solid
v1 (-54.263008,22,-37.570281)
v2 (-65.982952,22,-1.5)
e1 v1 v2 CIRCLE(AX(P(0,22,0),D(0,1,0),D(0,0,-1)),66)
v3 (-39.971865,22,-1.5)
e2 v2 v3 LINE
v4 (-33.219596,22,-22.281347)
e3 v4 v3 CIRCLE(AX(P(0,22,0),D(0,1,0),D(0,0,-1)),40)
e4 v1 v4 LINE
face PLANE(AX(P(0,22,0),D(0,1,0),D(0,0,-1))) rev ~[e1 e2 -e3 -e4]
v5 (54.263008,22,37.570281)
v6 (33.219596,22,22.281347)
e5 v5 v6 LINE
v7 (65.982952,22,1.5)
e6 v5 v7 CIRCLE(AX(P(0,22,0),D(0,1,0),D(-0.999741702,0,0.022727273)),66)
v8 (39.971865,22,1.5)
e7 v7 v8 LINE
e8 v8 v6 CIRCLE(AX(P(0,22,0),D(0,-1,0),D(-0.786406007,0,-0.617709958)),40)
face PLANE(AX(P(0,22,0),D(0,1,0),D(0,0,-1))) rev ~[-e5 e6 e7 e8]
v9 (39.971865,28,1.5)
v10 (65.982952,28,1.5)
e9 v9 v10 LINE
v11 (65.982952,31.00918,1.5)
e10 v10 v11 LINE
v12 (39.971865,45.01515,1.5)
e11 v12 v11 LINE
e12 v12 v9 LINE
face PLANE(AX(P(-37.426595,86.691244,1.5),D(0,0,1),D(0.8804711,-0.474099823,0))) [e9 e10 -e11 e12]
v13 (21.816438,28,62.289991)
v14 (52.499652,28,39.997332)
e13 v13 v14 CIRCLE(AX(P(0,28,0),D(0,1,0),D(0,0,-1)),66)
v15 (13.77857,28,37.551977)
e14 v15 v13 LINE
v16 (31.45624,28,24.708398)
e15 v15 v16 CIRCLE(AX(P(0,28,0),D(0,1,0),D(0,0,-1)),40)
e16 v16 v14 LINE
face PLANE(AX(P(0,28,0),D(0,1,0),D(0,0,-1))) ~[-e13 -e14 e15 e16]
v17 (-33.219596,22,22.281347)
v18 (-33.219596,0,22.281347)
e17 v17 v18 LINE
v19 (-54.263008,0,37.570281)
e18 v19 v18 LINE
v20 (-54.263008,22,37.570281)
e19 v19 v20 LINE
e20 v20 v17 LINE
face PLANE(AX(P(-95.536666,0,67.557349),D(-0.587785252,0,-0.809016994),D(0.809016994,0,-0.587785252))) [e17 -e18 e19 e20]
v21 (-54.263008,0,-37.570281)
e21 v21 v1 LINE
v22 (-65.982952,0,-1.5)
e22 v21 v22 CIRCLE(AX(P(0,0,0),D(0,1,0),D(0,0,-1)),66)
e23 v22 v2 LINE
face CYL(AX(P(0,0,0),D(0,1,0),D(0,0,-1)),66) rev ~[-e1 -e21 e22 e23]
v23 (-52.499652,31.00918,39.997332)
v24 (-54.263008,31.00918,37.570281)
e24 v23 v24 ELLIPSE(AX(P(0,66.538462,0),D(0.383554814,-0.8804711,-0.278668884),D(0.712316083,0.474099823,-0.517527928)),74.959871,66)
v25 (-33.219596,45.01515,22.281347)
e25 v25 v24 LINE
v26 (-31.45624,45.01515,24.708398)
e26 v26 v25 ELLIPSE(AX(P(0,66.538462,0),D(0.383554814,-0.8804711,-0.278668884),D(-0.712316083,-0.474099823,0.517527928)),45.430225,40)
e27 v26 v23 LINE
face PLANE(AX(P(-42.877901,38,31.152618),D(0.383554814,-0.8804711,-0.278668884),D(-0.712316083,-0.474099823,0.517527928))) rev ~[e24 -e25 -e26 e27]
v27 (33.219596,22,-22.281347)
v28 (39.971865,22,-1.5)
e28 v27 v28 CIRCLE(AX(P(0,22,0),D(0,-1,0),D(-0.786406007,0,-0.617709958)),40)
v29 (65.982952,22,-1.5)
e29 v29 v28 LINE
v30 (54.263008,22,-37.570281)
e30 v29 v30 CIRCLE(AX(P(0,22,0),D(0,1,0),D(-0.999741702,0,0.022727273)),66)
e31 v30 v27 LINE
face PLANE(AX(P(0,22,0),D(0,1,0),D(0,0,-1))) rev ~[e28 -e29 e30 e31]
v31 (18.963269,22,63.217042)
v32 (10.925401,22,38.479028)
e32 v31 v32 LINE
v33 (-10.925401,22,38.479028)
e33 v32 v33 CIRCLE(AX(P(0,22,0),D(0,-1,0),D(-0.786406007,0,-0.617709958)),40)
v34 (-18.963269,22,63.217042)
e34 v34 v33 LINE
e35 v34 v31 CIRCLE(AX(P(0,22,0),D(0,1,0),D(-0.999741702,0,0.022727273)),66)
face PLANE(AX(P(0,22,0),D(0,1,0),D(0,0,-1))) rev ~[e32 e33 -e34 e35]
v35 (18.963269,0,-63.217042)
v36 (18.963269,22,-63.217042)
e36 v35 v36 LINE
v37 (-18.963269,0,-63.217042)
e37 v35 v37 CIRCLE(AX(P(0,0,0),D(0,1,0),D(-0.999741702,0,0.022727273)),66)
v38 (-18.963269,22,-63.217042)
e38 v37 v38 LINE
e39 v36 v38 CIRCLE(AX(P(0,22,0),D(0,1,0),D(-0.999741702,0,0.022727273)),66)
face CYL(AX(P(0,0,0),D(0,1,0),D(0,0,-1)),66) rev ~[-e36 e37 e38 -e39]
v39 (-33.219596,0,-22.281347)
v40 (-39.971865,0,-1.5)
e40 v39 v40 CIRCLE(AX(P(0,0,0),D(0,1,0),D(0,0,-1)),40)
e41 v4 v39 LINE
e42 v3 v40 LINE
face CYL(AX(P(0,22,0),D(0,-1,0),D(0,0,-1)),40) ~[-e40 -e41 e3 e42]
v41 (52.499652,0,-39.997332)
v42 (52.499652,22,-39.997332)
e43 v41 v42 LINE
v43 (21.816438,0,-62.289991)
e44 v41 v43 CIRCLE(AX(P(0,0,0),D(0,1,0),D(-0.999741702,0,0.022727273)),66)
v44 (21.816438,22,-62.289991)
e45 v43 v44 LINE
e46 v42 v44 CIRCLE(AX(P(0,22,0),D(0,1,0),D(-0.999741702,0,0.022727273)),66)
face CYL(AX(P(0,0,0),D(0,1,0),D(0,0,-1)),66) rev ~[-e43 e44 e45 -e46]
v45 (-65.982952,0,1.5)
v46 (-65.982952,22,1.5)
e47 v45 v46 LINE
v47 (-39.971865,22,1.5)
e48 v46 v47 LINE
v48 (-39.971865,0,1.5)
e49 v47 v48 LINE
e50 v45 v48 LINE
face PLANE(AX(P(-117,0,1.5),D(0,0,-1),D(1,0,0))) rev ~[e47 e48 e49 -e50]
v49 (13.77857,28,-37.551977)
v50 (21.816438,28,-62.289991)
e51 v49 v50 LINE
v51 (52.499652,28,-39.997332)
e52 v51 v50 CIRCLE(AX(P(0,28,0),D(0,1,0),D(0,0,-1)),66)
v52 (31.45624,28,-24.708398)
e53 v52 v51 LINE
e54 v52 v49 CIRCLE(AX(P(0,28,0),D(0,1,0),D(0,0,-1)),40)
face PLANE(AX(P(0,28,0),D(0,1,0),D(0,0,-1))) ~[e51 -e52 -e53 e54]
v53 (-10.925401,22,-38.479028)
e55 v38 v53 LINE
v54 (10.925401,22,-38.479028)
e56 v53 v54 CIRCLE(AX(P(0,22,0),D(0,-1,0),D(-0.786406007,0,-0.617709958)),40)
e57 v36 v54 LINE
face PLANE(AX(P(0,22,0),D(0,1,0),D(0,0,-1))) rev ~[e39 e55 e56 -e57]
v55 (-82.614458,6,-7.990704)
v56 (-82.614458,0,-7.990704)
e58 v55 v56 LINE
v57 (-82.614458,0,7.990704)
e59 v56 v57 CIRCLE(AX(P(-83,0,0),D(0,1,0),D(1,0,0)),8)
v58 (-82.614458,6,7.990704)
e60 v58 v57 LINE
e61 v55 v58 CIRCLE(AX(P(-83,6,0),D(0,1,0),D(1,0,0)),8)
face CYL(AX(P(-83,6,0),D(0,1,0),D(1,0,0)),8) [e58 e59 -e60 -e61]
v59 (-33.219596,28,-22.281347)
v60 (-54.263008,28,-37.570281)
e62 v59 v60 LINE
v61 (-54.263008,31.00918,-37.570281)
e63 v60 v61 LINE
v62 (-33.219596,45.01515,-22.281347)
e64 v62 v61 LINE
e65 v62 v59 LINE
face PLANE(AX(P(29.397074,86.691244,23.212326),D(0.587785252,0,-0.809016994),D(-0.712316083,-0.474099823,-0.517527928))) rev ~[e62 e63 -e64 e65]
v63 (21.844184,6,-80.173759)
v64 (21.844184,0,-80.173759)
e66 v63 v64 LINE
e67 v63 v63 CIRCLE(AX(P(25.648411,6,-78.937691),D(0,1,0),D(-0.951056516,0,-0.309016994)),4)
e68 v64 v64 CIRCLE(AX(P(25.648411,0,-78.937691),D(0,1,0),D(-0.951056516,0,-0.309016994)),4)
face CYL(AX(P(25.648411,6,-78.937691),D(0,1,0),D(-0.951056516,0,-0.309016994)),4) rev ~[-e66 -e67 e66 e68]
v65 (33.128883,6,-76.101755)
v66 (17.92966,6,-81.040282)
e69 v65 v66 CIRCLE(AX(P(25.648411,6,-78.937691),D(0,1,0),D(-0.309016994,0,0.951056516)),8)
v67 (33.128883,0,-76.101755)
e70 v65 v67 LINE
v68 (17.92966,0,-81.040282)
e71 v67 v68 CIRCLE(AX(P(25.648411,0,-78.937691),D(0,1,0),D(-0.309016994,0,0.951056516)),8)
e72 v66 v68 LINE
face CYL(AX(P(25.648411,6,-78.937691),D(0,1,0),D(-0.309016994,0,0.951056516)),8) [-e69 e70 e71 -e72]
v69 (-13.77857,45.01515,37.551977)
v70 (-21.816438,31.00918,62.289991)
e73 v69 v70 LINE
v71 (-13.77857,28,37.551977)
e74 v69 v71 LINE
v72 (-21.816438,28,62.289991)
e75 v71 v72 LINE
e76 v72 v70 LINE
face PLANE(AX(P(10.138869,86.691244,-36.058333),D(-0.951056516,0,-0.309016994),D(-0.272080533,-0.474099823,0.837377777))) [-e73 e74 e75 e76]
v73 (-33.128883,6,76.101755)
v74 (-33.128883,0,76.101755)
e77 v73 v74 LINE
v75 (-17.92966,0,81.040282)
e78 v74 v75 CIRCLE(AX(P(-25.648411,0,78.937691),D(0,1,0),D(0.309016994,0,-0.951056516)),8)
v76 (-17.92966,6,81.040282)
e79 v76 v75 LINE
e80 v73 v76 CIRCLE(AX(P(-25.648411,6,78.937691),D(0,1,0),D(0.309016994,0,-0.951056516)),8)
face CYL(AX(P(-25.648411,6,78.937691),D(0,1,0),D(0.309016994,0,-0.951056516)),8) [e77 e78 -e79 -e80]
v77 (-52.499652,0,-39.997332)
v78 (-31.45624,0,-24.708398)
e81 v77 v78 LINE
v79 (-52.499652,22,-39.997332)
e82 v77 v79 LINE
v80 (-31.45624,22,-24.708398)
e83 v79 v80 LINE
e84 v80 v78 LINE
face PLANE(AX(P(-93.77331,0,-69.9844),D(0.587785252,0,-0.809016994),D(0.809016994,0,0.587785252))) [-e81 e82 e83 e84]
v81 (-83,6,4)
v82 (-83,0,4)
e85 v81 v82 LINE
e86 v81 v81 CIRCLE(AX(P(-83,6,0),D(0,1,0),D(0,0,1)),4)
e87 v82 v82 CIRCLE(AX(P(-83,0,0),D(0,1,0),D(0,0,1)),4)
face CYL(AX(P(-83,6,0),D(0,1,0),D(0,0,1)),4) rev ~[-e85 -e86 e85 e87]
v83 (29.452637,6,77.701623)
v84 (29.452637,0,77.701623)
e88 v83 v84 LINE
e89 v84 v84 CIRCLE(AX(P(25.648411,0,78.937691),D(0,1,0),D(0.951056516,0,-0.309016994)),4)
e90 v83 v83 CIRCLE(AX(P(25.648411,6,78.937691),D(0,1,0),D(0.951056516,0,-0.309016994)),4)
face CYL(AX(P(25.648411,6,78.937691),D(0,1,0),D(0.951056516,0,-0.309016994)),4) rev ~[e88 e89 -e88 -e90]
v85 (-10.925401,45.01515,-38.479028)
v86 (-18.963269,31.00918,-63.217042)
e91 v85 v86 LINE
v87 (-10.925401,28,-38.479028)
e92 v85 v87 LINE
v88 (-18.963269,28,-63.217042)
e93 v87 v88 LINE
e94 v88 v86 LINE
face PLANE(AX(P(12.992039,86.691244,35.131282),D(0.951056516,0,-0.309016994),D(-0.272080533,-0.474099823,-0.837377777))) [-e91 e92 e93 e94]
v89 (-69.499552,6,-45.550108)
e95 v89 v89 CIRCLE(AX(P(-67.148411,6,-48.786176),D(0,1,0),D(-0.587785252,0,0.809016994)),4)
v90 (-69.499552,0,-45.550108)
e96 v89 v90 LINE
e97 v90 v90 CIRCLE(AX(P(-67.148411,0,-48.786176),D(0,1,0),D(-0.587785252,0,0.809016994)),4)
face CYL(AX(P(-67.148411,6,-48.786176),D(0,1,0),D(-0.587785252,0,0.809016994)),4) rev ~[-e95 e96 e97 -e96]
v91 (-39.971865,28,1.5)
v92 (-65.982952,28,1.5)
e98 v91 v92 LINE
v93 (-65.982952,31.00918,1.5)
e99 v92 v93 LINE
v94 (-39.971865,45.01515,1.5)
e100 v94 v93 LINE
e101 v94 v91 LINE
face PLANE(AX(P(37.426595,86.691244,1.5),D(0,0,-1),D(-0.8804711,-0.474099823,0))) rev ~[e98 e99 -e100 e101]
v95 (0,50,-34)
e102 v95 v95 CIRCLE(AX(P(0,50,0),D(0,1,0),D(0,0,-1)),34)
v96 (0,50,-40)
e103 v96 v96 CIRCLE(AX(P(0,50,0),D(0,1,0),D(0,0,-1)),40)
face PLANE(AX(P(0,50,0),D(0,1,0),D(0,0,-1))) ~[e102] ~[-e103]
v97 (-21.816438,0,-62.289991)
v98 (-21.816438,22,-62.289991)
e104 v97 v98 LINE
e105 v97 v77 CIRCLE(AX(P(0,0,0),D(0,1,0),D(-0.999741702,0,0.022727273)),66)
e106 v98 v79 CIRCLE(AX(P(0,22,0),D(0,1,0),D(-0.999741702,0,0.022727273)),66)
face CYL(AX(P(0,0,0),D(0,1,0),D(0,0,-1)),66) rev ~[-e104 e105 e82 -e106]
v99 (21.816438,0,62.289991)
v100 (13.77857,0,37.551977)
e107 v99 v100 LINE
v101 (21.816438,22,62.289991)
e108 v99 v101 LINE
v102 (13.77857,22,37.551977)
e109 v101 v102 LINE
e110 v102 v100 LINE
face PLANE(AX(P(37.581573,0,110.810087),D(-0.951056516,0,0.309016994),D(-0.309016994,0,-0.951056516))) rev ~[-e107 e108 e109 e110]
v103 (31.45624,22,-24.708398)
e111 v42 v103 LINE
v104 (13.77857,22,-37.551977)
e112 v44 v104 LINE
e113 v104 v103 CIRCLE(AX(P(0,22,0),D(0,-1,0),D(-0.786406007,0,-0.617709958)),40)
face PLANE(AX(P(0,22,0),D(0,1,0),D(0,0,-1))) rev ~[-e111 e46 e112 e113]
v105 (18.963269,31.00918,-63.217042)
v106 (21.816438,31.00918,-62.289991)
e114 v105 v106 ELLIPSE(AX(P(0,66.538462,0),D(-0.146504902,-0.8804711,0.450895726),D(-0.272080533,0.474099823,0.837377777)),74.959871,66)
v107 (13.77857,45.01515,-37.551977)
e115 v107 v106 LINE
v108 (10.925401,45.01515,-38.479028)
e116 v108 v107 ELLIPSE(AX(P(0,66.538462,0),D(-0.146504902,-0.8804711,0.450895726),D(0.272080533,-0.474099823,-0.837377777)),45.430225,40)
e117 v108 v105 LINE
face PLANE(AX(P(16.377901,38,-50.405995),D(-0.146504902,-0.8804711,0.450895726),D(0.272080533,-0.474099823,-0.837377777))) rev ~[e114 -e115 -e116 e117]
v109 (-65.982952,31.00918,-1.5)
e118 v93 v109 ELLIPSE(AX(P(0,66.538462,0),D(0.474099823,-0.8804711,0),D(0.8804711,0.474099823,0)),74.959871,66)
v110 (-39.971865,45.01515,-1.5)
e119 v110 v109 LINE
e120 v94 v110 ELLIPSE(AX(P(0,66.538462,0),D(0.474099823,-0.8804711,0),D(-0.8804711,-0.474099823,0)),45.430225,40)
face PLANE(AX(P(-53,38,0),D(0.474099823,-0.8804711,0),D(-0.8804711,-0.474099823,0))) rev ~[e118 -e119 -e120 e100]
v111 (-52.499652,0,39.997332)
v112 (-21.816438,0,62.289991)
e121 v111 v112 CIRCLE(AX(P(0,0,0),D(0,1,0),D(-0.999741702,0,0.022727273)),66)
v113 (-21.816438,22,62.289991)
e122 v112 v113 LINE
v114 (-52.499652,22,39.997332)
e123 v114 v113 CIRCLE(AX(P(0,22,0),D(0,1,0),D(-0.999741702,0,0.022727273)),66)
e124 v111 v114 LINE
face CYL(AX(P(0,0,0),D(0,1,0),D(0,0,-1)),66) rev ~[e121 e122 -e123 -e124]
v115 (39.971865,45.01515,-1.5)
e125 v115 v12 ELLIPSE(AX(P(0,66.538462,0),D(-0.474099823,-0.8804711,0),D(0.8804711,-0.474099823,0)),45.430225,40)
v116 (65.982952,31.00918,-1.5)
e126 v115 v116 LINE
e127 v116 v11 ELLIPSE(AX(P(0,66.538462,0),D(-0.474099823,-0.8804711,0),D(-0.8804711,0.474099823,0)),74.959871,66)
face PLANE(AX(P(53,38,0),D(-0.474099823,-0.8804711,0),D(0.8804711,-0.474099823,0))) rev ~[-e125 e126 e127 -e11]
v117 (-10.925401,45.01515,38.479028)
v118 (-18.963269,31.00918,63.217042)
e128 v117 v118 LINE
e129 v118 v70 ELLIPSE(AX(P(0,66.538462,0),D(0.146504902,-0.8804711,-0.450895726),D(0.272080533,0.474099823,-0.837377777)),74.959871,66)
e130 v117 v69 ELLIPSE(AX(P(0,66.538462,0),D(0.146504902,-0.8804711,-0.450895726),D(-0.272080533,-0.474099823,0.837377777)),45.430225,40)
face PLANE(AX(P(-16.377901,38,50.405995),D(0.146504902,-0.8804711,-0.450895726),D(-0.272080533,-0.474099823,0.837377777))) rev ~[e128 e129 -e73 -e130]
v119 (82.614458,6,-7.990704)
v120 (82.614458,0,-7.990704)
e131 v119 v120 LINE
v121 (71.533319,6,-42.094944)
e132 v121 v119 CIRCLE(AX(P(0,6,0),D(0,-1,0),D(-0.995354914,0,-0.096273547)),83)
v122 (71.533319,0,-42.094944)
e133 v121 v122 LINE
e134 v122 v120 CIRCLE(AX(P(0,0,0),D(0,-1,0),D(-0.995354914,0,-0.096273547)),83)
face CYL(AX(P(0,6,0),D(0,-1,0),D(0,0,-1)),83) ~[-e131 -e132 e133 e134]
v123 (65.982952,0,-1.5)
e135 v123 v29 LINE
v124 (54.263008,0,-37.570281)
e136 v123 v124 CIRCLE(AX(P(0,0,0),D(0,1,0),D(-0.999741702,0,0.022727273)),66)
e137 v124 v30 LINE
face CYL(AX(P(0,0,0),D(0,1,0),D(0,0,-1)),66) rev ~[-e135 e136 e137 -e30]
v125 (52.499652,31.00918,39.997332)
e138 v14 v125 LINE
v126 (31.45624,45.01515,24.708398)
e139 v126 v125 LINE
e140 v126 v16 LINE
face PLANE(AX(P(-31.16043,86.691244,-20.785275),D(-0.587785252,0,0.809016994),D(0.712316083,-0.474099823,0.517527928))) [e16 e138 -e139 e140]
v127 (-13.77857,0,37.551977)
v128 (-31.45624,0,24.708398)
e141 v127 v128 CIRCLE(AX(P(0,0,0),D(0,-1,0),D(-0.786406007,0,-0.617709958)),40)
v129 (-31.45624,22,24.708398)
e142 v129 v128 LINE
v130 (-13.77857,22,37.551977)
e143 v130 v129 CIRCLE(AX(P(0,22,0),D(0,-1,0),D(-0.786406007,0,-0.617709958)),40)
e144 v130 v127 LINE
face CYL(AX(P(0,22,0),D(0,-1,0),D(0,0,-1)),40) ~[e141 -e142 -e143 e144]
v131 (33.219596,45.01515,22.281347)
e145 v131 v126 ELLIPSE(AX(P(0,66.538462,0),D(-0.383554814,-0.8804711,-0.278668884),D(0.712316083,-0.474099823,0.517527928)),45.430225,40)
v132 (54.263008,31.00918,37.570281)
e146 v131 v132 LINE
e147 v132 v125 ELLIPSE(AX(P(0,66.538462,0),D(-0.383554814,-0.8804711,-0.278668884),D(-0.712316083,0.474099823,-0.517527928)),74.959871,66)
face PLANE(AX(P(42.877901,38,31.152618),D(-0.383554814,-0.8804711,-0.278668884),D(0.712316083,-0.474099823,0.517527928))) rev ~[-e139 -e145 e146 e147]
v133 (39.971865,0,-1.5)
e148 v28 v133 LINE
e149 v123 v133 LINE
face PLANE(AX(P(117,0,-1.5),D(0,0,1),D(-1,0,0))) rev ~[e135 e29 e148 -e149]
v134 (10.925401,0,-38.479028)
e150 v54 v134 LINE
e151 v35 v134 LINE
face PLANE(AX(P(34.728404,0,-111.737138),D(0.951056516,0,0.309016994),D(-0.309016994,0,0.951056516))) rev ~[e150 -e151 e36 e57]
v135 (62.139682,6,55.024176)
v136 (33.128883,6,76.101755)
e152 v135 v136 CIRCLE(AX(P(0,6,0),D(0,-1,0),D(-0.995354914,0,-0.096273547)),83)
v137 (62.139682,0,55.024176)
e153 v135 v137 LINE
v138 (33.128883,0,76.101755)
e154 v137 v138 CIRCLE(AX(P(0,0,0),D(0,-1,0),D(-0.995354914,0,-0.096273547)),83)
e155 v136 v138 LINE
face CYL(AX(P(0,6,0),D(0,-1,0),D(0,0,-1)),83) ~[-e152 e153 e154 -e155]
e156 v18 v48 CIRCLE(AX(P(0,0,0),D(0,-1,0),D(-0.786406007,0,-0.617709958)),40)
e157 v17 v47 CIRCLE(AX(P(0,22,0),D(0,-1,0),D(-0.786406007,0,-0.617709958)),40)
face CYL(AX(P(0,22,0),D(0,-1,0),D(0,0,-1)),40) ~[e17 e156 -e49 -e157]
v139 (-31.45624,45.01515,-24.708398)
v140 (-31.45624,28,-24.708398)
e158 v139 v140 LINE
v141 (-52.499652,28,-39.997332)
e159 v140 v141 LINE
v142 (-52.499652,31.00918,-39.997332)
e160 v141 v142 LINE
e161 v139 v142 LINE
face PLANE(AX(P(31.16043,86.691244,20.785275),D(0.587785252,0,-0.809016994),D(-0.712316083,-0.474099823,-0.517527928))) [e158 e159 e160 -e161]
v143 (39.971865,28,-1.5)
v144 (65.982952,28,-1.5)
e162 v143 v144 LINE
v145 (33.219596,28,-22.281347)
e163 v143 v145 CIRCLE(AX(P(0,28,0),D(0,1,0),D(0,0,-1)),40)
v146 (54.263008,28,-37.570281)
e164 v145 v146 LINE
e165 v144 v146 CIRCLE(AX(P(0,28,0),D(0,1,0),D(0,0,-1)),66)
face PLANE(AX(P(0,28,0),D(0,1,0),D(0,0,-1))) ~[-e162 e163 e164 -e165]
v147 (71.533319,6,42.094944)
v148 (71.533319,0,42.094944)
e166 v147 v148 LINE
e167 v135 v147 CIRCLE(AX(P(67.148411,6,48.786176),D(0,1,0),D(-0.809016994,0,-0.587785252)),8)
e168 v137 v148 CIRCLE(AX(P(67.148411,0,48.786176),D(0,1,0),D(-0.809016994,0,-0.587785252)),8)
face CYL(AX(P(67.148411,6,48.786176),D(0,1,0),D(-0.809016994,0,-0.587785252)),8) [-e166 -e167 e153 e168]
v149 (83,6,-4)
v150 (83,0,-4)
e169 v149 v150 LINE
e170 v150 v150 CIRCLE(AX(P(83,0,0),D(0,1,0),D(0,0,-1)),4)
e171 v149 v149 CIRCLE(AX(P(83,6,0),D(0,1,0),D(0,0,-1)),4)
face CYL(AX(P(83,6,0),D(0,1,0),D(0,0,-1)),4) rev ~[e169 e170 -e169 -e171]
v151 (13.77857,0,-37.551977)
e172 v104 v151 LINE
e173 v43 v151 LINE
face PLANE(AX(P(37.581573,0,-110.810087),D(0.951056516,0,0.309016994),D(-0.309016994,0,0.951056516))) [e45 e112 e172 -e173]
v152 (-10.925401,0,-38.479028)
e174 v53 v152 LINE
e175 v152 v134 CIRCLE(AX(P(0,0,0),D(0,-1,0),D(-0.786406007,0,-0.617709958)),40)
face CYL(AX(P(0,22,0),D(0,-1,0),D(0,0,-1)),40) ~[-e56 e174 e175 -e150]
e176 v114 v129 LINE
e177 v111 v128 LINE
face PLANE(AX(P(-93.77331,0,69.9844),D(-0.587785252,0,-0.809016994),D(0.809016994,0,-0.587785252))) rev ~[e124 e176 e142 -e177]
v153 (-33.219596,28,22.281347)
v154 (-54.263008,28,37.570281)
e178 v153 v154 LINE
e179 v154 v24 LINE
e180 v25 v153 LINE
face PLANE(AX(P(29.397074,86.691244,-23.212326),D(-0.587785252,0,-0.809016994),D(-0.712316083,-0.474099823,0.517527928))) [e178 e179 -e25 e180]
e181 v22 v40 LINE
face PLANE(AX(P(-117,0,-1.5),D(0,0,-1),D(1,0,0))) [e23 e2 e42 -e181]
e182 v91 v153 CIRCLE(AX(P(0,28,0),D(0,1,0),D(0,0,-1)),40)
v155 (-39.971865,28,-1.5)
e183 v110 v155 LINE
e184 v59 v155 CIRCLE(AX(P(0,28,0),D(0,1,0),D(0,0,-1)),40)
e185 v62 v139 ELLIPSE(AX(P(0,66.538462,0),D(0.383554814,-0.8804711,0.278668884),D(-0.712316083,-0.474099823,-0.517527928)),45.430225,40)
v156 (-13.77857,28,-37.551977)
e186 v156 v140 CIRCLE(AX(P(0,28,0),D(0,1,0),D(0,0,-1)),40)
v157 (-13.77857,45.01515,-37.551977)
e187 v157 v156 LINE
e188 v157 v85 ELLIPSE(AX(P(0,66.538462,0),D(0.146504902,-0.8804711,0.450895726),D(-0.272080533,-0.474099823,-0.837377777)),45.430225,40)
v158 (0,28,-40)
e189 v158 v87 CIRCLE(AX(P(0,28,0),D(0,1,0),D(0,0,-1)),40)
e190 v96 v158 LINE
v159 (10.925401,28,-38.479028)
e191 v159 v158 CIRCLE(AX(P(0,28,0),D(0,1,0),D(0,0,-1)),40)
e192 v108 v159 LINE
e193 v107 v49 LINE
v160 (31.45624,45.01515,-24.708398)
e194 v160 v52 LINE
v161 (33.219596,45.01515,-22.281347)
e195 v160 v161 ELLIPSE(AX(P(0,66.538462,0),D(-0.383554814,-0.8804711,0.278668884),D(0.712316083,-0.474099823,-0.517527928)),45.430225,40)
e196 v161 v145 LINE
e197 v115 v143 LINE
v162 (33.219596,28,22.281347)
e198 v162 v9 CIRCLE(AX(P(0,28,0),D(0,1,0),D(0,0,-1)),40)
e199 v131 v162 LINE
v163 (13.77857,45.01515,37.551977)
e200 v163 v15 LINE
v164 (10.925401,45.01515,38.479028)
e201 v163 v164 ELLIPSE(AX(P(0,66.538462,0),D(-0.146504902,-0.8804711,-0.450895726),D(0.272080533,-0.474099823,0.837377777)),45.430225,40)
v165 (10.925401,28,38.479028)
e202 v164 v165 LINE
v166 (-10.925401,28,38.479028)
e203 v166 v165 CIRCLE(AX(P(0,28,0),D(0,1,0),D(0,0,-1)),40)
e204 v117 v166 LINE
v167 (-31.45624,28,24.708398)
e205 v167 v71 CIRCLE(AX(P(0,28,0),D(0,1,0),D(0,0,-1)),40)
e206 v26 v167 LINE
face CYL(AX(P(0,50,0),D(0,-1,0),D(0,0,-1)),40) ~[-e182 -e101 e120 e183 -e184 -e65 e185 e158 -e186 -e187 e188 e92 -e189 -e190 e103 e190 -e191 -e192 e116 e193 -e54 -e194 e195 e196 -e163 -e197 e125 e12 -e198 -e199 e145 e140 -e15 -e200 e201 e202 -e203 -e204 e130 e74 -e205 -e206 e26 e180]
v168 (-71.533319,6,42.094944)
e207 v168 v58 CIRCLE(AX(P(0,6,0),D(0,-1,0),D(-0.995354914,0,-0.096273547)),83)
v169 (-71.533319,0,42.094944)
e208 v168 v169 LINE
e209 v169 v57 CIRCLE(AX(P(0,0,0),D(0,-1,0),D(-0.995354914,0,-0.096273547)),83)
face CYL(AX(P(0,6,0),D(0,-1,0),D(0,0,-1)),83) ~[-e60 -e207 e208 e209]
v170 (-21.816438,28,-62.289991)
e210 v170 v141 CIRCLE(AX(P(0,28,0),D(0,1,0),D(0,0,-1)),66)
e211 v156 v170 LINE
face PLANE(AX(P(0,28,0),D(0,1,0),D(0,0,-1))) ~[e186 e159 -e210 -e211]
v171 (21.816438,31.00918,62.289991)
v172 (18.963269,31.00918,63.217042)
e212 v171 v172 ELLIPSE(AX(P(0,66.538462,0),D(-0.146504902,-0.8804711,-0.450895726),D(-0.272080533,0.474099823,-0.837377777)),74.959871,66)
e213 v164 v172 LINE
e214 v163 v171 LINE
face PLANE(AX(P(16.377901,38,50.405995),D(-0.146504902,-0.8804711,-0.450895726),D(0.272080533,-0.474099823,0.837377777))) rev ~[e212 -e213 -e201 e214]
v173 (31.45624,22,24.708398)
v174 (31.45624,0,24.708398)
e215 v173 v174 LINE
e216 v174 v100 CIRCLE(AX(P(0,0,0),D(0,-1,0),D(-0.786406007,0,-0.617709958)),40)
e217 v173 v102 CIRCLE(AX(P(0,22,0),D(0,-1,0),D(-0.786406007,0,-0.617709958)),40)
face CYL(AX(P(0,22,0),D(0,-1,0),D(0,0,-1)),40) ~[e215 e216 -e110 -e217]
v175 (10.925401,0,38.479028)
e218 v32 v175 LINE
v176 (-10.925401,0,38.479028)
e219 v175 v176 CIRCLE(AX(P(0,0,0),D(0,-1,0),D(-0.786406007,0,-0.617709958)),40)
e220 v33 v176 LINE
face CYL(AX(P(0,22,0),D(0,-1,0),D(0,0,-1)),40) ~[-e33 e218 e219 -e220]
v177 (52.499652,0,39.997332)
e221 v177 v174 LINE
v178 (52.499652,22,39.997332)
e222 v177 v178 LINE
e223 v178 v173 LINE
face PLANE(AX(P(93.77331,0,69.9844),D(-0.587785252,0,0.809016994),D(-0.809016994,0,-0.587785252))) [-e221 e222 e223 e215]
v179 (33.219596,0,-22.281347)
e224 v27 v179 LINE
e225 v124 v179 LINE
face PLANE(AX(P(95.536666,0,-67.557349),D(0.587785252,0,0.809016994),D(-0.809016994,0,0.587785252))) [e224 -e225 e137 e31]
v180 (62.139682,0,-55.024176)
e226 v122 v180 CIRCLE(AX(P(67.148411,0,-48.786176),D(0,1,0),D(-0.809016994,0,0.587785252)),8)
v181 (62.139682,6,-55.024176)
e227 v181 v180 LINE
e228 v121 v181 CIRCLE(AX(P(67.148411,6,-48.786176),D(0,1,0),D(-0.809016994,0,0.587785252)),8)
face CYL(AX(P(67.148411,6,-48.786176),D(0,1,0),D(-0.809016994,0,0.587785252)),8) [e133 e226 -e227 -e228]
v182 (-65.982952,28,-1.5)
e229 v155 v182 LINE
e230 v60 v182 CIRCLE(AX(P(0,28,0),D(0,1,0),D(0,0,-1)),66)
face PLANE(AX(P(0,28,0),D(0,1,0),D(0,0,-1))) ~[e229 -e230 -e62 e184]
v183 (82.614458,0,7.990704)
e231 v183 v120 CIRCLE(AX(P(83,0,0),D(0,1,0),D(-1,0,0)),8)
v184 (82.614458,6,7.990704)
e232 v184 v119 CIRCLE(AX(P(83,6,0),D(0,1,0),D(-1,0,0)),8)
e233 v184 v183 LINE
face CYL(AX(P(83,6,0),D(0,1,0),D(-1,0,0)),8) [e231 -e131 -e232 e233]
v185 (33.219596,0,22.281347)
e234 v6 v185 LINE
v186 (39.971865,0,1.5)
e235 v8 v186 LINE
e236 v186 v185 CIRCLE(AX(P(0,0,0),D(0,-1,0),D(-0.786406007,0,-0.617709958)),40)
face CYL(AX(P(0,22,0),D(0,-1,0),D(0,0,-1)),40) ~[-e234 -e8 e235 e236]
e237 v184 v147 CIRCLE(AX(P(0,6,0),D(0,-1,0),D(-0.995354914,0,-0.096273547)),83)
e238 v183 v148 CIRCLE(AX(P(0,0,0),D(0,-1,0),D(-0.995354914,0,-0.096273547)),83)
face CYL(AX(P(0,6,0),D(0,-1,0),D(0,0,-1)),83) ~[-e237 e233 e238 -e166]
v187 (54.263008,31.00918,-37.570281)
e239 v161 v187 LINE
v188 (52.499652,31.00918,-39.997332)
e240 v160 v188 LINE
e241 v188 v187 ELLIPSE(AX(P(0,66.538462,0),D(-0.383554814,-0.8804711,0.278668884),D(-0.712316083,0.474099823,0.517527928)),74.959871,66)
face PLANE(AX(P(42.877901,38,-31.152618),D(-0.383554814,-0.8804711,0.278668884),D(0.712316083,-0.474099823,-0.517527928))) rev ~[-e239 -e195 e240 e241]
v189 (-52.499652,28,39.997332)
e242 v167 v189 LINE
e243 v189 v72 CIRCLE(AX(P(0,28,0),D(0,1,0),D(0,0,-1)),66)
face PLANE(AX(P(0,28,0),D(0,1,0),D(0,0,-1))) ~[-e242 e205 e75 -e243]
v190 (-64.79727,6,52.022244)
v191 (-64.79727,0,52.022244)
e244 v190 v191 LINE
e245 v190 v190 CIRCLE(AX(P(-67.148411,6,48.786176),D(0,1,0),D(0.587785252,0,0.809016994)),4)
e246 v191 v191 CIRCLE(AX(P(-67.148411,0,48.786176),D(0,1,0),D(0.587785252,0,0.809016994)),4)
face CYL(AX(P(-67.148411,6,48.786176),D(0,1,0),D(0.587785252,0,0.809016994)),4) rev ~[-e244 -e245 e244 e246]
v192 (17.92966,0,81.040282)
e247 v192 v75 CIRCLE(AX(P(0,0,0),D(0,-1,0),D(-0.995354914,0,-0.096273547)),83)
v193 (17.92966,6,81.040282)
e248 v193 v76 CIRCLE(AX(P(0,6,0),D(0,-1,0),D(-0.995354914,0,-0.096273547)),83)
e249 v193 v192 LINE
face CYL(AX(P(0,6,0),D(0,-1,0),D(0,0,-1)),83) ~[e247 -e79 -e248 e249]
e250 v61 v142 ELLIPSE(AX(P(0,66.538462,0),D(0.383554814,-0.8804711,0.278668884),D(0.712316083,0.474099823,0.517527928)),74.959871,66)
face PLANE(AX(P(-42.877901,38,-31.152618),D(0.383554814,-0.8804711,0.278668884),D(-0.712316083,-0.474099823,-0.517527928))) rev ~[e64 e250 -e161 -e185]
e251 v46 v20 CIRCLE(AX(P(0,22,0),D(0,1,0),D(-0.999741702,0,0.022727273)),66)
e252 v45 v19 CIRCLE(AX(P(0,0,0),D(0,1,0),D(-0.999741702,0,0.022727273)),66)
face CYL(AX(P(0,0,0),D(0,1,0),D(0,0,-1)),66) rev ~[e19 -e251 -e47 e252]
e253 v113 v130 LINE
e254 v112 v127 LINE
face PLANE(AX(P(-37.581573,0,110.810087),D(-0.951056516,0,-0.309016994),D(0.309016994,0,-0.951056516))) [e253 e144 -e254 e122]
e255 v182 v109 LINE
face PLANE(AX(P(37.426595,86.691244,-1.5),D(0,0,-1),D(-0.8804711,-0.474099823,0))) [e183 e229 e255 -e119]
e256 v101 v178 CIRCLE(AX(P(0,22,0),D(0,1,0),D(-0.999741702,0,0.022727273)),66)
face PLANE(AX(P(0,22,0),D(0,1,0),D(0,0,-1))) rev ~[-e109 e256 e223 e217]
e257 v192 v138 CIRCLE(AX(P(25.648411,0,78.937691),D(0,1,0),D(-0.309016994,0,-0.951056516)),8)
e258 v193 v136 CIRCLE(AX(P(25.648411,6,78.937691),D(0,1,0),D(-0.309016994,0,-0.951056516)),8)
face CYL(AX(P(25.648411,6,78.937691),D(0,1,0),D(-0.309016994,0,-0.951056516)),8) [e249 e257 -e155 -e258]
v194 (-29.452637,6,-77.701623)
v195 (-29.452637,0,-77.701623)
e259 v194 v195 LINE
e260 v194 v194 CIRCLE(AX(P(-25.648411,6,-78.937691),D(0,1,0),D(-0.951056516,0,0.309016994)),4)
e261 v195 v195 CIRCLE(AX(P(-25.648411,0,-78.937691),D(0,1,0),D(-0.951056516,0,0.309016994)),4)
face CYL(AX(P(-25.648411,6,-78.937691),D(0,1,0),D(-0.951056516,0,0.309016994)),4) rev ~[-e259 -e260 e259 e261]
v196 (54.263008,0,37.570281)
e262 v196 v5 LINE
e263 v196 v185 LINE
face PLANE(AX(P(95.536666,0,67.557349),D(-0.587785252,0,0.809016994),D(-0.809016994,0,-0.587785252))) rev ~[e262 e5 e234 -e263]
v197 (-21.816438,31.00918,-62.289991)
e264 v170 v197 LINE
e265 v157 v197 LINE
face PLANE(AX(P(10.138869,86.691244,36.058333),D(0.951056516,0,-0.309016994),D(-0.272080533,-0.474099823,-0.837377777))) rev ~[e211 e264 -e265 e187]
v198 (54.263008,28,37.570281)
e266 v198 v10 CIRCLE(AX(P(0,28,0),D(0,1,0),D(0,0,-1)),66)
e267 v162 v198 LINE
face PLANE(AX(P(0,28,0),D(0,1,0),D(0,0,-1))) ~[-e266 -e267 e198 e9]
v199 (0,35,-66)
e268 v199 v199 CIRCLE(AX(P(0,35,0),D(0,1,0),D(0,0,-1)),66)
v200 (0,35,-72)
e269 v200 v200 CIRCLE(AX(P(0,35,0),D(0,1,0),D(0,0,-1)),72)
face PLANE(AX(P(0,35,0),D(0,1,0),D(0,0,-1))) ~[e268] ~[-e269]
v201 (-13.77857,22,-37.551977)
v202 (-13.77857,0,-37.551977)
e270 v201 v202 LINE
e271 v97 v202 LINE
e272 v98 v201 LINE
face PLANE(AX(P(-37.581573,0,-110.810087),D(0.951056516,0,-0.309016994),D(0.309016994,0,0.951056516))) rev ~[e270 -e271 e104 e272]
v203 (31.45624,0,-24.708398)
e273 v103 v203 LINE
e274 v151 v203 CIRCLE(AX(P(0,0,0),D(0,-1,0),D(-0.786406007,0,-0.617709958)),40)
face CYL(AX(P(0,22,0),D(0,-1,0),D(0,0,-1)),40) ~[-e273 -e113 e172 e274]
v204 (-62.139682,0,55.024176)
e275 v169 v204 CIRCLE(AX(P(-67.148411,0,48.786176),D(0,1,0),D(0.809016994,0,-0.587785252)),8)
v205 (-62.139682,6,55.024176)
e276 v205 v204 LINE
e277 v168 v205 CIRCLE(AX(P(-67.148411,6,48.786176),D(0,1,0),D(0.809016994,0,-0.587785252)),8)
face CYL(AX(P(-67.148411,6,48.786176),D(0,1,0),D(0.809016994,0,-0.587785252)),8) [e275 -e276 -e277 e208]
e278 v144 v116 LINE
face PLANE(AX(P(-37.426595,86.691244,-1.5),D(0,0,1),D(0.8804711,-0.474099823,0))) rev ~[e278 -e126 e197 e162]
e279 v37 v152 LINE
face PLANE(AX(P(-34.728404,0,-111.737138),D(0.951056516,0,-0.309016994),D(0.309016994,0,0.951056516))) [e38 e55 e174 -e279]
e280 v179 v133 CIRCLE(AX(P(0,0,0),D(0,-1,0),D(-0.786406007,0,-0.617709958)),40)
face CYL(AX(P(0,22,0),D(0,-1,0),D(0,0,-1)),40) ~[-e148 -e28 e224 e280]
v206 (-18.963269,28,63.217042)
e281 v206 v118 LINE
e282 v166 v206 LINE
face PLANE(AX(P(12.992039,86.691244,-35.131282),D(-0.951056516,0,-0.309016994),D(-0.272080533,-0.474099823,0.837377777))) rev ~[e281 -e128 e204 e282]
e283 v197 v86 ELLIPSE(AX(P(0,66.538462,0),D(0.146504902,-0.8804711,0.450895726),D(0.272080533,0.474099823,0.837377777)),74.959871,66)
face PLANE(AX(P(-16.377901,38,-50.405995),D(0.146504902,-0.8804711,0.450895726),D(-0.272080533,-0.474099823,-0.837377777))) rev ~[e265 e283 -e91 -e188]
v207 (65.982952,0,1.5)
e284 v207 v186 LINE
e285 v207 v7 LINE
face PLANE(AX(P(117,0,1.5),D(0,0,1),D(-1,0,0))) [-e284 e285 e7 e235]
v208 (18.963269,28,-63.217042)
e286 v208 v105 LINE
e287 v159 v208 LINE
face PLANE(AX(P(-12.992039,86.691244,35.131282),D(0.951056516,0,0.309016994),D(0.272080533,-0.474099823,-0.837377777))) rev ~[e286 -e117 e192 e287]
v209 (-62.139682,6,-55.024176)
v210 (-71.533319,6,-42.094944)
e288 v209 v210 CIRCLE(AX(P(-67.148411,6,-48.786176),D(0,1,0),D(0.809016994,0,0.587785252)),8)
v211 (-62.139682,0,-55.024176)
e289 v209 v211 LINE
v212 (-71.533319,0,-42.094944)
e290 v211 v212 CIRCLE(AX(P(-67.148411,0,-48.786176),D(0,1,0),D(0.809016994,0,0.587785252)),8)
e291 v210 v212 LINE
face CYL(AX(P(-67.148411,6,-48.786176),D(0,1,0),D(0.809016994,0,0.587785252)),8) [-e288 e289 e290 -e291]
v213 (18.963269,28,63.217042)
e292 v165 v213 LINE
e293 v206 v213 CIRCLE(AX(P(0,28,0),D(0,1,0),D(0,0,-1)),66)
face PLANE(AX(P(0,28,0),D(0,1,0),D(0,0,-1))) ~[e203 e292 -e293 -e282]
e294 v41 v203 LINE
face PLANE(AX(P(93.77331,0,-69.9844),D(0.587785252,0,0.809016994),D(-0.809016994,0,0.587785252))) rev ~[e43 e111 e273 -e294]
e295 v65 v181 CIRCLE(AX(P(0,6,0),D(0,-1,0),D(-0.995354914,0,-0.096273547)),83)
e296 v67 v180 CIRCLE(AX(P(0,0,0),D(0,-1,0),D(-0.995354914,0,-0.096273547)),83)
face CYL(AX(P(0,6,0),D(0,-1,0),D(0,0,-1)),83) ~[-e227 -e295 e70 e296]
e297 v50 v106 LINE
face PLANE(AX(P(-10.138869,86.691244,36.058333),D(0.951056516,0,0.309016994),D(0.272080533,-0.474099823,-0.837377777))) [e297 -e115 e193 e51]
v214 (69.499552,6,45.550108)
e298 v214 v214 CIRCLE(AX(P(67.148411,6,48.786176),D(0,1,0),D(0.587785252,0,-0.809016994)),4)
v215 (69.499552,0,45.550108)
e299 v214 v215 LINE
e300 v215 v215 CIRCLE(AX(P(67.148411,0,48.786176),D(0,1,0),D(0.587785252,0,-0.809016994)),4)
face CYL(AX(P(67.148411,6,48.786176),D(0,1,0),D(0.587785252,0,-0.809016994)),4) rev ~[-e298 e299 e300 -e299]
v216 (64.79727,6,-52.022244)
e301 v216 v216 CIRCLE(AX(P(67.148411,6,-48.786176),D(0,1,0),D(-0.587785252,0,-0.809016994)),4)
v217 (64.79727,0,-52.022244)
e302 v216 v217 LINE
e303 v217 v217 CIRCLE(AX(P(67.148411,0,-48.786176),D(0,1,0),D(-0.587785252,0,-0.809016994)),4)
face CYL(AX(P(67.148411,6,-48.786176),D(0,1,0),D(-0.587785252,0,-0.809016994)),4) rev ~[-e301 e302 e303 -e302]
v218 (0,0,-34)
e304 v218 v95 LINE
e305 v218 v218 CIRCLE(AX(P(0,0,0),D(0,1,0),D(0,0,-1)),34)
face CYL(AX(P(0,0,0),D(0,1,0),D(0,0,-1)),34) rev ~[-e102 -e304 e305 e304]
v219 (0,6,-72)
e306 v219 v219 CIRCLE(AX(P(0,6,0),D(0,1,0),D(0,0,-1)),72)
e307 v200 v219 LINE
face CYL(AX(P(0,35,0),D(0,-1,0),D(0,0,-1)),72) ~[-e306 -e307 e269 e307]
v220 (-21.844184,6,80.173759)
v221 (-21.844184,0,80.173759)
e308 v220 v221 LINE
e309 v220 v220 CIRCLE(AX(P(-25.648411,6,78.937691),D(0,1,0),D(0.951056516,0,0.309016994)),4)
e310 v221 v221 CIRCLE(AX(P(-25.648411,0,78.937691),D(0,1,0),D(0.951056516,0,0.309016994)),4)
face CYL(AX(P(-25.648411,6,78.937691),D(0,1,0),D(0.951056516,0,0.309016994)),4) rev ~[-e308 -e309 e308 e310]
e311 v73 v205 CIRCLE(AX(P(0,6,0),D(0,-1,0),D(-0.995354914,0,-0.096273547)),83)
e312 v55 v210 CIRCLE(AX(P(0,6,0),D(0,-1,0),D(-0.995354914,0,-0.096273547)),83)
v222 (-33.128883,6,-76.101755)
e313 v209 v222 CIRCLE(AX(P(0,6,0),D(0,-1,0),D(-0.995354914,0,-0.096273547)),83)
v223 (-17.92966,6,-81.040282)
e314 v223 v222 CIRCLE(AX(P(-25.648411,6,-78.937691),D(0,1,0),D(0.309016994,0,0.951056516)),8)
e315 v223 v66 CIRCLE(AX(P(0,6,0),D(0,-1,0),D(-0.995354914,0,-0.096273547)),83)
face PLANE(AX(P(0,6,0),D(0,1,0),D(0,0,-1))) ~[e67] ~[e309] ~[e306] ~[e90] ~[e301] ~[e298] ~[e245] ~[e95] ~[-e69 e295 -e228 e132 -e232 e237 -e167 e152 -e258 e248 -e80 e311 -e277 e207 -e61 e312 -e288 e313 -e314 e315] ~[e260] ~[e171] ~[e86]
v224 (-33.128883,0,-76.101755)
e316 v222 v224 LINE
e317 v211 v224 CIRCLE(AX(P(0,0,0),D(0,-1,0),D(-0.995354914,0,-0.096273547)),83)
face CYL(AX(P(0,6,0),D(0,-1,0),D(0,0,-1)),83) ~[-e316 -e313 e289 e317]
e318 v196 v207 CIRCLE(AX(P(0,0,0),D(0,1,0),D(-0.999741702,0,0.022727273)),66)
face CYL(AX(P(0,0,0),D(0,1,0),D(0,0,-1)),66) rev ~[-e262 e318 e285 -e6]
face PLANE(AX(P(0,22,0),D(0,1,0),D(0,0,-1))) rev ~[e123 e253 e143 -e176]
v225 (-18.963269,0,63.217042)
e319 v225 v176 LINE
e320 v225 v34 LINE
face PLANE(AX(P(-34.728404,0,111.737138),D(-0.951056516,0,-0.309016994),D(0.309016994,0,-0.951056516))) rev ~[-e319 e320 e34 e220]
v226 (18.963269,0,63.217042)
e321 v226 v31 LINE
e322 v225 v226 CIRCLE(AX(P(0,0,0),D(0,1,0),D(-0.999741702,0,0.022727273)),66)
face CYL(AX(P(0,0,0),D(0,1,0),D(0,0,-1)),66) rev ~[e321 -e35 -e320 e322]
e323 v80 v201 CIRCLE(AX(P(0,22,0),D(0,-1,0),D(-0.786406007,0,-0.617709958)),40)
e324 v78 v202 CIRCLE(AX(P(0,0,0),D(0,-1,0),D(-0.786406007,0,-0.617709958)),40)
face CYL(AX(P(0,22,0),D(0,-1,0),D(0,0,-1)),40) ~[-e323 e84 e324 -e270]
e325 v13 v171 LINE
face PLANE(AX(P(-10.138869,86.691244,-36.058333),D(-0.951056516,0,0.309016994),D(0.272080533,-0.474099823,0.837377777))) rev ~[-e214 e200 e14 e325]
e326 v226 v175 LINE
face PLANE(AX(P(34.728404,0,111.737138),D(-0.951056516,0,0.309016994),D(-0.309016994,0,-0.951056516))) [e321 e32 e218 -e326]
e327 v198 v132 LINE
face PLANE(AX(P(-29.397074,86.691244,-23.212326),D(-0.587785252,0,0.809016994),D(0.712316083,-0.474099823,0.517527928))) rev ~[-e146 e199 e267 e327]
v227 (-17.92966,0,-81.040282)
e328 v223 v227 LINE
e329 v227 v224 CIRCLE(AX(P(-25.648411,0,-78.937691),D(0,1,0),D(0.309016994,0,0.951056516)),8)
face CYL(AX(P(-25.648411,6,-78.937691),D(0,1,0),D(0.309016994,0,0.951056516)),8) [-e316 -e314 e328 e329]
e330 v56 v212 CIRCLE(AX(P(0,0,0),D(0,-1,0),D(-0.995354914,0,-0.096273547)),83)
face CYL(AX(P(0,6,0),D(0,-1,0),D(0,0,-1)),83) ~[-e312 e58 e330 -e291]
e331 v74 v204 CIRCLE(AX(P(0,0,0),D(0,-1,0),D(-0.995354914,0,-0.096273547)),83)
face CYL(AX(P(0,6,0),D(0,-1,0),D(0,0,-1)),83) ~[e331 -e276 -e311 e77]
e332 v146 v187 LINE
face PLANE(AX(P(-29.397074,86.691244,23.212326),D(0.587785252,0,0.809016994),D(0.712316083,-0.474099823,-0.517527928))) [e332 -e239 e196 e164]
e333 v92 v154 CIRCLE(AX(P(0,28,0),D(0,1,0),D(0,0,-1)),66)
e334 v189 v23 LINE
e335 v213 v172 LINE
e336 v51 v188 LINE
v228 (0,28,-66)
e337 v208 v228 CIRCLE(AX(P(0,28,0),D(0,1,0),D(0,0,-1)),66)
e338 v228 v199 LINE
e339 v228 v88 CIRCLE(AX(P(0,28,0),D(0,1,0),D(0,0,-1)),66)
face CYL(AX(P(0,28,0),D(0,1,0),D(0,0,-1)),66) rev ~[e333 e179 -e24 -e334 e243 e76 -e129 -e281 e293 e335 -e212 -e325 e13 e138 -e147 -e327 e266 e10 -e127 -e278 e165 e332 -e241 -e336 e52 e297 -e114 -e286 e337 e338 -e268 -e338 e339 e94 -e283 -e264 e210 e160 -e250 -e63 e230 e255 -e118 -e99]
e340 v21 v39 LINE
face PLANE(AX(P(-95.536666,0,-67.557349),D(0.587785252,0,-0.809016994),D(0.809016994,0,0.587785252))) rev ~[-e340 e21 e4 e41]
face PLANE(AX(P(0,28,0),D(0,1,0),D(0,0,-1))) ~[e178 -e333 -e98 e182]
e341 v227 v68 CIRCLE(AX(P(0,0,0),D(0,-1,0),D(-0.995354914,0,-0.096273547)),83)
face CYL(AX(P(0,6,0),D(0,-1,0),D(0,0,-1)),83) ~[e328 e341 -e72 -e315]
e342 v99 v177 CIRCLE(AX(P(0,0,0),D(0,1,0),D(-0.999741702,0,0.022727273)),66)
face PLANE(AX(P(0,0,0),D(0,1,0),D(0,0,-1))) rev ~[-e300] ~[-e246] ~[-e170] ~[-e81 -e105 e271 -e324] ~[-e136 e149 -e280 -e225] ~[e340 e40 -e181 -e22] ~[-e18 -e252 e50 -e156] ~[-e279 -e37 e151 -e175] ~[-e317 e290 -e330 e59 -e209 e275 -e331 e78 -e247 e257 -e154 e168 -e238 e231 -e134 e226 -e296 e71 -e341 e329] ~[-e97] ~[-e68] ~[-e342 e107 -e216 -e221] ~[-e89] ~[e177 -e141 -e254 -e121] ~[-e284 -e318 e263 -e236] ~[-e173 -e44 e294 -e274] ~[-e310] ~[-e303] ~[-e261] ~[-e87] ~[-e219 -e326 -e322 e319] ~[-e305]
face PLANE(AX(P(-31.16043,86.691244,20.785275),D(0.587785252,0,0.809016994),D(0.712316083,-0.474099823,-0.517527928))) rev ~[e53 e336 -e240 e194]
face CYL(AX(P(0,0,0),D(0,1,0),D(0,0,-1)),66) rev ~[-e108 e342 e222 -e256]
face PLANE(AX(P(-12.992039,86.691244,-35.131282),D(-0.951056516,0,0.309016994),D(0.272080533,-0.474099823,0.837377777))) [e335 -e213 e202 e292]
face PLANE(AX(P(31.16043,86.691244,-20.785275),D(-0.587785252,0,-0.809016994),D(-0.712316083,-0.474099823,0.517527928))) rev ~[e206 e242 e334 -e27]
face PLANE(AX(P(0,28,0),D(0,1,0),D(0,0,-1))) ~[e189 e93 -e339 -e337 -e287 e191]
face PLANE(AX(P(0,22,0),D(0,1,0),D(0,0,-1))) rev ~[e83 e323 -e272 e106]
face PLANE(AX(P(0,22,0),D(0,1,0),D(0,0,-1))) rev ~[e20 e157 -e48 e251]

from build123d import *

# Parameters (mm, degrees)
SKETCH3_R           = 8
BOSS_EXTRUDE1_DEPTH = 6
SKETCH4_R           = 4
CUT_EXTRUDE1_DEPTH  = 7
CIRPATTERN2_COUNT   = 10
RIB1_REACH          = 88.938
SKETCH2_WALL_W      = 205.405027826
SKETCH2_WALL_H      = 3
CIRPATTERN1_COUNT   = 10
RIB2_REACH          = 52
SKETCH5_WALLS_W     = 128
SKETCH5_WALLS_H     = 3
CIRPATTERN3_COUNT   = 10


with BuildPart() as part:
    # Sketch1 → Revolve1 (revolve)
    with BuildSketch(Plane.XY, mode=Mode.PRIVATE) as revolve1_sk:
        Polygon((34, 0), (34, 50), (40, 50), (40, 28), (66, 28), (66, 35), (72, 35), (72, 6), (83, 6), (83, 0), (66, 0), (66, 22), (40, 22), (40, 0), align=None)
    revolve(revolve1_sk.sketch.rotate(Axis((0, 0, 0), (0, 1, 0)), 90), axis=Axis((0, 0, 0), (0, 1, 0)))  # turned: the seam where the file's is

    # Sketch3 → Boss-Extrude1 (add)
    with BuildSketch(Plane(origin=(0, 6, 0), x_dir=(1, 0, 0), z_dir=(0, 1, 0))):
        with Locations((-83, 0)):
            Circle(SKETCH3_R)
    boss_extrude1 = extrude(amount=-BOSS_EXTRUDE1_DEPTH)

    # Sketch4 → Cut-Extrude1 (cut, through all)
    with BuildSketch(Plane(origin=(0, 6, 0), x_dir=(1, 0, 0), z_dir=(0, 1, 0))):
        with Locations(Location((-83, 0, 0), (0, 0, 270))):  # turned: the seam where the file's is
            Circle(SKETCH4_R)
    cut_extrude1 = extrude(amount=-CUT_EXTRUDE1_DEPTH, mode=Mode.SUBTRACT)

    # CirPattern2: Boss-Extrude1, Cut-Extrude1 ×10 about axis
    cirpattern2_axis = Axis((0, 0, 0), (0, 1, 0))
    add([boss_extrude1.rotate(cirpattern2_axis, i * 360 / CIRPATTERN2_COUNT) for i in range(1, CIRPATTERN2_COUNT)])
    add([cut_extrude1.rotate(cirpattern2_axis, i * 360 / CIRPATTERN2_COUNT) for i in range(1, CIRPATTERN2_COUNT)], mode=Mode.SUBTRACT)

    # Sketch2 wall → Rib1 (add, up to next)
    with BuildSketch(Plane(origin=(-53, 38, 0), x_dir=(-0.8804711, -0.474099823, 0), z_dir=(0.474099823, -0.8804711, 0)), mode=Mode.PRIVATE) as rib1_sk1:
        Rectangle(SKETCH2_WALL_W, SKETCH2_WALL_H)
    rib1_tool1 = extrude(rib1_sk1.sketch, amount=RIB1_REACH, mode=Mode.PRIVATE) - part.part
    rib1 = rib1_tool1.solids().sort_by_distance((-53, 38, 0))[0]
    add(rib1)

    # CirPattern1: Rib1 ×10 about axis
    cirpattern1_axis = Axis((0, 0, 0), (0, 1, 0))
    for i in range(1, CIRPATTERN1_COUNT):
        add(rib1.rotate(cirpattern1_axis, i * 360 / CIRPATTERN1_COUNT))

    # Sketch5 walls → Rib2 (add, up to next)
    with BuildSketch(Plane.XZ, mode=Mode.PRIVATE) as rib2_sk1:
        with Locations((-53, 0)):
            Rectangle(SKETCH5_WALLS_W, SKETCH5_WALLS_H)
    rib2_tool1 = extrude(rib2_sk1.sketch, amount=-RIB2_REACH, mode=Mode.PRIVATE) - part.part
    rib2 = rib2_tool1.solids().sort_by_distance((-53, 0, 0))[0]
    add(rib2)

    # CirPattern3: Rib2 ×10 about axis
    cirpattern3_axis = Axis((0, 0, 0), (0, -1, 0))
    for i in range(1, CIRPATTERN3_COUNT):
        add(rib2.rotate(cirpattern3_axis, i * 360 / CIRPATTERN3_COUNT))


solid = part.part
